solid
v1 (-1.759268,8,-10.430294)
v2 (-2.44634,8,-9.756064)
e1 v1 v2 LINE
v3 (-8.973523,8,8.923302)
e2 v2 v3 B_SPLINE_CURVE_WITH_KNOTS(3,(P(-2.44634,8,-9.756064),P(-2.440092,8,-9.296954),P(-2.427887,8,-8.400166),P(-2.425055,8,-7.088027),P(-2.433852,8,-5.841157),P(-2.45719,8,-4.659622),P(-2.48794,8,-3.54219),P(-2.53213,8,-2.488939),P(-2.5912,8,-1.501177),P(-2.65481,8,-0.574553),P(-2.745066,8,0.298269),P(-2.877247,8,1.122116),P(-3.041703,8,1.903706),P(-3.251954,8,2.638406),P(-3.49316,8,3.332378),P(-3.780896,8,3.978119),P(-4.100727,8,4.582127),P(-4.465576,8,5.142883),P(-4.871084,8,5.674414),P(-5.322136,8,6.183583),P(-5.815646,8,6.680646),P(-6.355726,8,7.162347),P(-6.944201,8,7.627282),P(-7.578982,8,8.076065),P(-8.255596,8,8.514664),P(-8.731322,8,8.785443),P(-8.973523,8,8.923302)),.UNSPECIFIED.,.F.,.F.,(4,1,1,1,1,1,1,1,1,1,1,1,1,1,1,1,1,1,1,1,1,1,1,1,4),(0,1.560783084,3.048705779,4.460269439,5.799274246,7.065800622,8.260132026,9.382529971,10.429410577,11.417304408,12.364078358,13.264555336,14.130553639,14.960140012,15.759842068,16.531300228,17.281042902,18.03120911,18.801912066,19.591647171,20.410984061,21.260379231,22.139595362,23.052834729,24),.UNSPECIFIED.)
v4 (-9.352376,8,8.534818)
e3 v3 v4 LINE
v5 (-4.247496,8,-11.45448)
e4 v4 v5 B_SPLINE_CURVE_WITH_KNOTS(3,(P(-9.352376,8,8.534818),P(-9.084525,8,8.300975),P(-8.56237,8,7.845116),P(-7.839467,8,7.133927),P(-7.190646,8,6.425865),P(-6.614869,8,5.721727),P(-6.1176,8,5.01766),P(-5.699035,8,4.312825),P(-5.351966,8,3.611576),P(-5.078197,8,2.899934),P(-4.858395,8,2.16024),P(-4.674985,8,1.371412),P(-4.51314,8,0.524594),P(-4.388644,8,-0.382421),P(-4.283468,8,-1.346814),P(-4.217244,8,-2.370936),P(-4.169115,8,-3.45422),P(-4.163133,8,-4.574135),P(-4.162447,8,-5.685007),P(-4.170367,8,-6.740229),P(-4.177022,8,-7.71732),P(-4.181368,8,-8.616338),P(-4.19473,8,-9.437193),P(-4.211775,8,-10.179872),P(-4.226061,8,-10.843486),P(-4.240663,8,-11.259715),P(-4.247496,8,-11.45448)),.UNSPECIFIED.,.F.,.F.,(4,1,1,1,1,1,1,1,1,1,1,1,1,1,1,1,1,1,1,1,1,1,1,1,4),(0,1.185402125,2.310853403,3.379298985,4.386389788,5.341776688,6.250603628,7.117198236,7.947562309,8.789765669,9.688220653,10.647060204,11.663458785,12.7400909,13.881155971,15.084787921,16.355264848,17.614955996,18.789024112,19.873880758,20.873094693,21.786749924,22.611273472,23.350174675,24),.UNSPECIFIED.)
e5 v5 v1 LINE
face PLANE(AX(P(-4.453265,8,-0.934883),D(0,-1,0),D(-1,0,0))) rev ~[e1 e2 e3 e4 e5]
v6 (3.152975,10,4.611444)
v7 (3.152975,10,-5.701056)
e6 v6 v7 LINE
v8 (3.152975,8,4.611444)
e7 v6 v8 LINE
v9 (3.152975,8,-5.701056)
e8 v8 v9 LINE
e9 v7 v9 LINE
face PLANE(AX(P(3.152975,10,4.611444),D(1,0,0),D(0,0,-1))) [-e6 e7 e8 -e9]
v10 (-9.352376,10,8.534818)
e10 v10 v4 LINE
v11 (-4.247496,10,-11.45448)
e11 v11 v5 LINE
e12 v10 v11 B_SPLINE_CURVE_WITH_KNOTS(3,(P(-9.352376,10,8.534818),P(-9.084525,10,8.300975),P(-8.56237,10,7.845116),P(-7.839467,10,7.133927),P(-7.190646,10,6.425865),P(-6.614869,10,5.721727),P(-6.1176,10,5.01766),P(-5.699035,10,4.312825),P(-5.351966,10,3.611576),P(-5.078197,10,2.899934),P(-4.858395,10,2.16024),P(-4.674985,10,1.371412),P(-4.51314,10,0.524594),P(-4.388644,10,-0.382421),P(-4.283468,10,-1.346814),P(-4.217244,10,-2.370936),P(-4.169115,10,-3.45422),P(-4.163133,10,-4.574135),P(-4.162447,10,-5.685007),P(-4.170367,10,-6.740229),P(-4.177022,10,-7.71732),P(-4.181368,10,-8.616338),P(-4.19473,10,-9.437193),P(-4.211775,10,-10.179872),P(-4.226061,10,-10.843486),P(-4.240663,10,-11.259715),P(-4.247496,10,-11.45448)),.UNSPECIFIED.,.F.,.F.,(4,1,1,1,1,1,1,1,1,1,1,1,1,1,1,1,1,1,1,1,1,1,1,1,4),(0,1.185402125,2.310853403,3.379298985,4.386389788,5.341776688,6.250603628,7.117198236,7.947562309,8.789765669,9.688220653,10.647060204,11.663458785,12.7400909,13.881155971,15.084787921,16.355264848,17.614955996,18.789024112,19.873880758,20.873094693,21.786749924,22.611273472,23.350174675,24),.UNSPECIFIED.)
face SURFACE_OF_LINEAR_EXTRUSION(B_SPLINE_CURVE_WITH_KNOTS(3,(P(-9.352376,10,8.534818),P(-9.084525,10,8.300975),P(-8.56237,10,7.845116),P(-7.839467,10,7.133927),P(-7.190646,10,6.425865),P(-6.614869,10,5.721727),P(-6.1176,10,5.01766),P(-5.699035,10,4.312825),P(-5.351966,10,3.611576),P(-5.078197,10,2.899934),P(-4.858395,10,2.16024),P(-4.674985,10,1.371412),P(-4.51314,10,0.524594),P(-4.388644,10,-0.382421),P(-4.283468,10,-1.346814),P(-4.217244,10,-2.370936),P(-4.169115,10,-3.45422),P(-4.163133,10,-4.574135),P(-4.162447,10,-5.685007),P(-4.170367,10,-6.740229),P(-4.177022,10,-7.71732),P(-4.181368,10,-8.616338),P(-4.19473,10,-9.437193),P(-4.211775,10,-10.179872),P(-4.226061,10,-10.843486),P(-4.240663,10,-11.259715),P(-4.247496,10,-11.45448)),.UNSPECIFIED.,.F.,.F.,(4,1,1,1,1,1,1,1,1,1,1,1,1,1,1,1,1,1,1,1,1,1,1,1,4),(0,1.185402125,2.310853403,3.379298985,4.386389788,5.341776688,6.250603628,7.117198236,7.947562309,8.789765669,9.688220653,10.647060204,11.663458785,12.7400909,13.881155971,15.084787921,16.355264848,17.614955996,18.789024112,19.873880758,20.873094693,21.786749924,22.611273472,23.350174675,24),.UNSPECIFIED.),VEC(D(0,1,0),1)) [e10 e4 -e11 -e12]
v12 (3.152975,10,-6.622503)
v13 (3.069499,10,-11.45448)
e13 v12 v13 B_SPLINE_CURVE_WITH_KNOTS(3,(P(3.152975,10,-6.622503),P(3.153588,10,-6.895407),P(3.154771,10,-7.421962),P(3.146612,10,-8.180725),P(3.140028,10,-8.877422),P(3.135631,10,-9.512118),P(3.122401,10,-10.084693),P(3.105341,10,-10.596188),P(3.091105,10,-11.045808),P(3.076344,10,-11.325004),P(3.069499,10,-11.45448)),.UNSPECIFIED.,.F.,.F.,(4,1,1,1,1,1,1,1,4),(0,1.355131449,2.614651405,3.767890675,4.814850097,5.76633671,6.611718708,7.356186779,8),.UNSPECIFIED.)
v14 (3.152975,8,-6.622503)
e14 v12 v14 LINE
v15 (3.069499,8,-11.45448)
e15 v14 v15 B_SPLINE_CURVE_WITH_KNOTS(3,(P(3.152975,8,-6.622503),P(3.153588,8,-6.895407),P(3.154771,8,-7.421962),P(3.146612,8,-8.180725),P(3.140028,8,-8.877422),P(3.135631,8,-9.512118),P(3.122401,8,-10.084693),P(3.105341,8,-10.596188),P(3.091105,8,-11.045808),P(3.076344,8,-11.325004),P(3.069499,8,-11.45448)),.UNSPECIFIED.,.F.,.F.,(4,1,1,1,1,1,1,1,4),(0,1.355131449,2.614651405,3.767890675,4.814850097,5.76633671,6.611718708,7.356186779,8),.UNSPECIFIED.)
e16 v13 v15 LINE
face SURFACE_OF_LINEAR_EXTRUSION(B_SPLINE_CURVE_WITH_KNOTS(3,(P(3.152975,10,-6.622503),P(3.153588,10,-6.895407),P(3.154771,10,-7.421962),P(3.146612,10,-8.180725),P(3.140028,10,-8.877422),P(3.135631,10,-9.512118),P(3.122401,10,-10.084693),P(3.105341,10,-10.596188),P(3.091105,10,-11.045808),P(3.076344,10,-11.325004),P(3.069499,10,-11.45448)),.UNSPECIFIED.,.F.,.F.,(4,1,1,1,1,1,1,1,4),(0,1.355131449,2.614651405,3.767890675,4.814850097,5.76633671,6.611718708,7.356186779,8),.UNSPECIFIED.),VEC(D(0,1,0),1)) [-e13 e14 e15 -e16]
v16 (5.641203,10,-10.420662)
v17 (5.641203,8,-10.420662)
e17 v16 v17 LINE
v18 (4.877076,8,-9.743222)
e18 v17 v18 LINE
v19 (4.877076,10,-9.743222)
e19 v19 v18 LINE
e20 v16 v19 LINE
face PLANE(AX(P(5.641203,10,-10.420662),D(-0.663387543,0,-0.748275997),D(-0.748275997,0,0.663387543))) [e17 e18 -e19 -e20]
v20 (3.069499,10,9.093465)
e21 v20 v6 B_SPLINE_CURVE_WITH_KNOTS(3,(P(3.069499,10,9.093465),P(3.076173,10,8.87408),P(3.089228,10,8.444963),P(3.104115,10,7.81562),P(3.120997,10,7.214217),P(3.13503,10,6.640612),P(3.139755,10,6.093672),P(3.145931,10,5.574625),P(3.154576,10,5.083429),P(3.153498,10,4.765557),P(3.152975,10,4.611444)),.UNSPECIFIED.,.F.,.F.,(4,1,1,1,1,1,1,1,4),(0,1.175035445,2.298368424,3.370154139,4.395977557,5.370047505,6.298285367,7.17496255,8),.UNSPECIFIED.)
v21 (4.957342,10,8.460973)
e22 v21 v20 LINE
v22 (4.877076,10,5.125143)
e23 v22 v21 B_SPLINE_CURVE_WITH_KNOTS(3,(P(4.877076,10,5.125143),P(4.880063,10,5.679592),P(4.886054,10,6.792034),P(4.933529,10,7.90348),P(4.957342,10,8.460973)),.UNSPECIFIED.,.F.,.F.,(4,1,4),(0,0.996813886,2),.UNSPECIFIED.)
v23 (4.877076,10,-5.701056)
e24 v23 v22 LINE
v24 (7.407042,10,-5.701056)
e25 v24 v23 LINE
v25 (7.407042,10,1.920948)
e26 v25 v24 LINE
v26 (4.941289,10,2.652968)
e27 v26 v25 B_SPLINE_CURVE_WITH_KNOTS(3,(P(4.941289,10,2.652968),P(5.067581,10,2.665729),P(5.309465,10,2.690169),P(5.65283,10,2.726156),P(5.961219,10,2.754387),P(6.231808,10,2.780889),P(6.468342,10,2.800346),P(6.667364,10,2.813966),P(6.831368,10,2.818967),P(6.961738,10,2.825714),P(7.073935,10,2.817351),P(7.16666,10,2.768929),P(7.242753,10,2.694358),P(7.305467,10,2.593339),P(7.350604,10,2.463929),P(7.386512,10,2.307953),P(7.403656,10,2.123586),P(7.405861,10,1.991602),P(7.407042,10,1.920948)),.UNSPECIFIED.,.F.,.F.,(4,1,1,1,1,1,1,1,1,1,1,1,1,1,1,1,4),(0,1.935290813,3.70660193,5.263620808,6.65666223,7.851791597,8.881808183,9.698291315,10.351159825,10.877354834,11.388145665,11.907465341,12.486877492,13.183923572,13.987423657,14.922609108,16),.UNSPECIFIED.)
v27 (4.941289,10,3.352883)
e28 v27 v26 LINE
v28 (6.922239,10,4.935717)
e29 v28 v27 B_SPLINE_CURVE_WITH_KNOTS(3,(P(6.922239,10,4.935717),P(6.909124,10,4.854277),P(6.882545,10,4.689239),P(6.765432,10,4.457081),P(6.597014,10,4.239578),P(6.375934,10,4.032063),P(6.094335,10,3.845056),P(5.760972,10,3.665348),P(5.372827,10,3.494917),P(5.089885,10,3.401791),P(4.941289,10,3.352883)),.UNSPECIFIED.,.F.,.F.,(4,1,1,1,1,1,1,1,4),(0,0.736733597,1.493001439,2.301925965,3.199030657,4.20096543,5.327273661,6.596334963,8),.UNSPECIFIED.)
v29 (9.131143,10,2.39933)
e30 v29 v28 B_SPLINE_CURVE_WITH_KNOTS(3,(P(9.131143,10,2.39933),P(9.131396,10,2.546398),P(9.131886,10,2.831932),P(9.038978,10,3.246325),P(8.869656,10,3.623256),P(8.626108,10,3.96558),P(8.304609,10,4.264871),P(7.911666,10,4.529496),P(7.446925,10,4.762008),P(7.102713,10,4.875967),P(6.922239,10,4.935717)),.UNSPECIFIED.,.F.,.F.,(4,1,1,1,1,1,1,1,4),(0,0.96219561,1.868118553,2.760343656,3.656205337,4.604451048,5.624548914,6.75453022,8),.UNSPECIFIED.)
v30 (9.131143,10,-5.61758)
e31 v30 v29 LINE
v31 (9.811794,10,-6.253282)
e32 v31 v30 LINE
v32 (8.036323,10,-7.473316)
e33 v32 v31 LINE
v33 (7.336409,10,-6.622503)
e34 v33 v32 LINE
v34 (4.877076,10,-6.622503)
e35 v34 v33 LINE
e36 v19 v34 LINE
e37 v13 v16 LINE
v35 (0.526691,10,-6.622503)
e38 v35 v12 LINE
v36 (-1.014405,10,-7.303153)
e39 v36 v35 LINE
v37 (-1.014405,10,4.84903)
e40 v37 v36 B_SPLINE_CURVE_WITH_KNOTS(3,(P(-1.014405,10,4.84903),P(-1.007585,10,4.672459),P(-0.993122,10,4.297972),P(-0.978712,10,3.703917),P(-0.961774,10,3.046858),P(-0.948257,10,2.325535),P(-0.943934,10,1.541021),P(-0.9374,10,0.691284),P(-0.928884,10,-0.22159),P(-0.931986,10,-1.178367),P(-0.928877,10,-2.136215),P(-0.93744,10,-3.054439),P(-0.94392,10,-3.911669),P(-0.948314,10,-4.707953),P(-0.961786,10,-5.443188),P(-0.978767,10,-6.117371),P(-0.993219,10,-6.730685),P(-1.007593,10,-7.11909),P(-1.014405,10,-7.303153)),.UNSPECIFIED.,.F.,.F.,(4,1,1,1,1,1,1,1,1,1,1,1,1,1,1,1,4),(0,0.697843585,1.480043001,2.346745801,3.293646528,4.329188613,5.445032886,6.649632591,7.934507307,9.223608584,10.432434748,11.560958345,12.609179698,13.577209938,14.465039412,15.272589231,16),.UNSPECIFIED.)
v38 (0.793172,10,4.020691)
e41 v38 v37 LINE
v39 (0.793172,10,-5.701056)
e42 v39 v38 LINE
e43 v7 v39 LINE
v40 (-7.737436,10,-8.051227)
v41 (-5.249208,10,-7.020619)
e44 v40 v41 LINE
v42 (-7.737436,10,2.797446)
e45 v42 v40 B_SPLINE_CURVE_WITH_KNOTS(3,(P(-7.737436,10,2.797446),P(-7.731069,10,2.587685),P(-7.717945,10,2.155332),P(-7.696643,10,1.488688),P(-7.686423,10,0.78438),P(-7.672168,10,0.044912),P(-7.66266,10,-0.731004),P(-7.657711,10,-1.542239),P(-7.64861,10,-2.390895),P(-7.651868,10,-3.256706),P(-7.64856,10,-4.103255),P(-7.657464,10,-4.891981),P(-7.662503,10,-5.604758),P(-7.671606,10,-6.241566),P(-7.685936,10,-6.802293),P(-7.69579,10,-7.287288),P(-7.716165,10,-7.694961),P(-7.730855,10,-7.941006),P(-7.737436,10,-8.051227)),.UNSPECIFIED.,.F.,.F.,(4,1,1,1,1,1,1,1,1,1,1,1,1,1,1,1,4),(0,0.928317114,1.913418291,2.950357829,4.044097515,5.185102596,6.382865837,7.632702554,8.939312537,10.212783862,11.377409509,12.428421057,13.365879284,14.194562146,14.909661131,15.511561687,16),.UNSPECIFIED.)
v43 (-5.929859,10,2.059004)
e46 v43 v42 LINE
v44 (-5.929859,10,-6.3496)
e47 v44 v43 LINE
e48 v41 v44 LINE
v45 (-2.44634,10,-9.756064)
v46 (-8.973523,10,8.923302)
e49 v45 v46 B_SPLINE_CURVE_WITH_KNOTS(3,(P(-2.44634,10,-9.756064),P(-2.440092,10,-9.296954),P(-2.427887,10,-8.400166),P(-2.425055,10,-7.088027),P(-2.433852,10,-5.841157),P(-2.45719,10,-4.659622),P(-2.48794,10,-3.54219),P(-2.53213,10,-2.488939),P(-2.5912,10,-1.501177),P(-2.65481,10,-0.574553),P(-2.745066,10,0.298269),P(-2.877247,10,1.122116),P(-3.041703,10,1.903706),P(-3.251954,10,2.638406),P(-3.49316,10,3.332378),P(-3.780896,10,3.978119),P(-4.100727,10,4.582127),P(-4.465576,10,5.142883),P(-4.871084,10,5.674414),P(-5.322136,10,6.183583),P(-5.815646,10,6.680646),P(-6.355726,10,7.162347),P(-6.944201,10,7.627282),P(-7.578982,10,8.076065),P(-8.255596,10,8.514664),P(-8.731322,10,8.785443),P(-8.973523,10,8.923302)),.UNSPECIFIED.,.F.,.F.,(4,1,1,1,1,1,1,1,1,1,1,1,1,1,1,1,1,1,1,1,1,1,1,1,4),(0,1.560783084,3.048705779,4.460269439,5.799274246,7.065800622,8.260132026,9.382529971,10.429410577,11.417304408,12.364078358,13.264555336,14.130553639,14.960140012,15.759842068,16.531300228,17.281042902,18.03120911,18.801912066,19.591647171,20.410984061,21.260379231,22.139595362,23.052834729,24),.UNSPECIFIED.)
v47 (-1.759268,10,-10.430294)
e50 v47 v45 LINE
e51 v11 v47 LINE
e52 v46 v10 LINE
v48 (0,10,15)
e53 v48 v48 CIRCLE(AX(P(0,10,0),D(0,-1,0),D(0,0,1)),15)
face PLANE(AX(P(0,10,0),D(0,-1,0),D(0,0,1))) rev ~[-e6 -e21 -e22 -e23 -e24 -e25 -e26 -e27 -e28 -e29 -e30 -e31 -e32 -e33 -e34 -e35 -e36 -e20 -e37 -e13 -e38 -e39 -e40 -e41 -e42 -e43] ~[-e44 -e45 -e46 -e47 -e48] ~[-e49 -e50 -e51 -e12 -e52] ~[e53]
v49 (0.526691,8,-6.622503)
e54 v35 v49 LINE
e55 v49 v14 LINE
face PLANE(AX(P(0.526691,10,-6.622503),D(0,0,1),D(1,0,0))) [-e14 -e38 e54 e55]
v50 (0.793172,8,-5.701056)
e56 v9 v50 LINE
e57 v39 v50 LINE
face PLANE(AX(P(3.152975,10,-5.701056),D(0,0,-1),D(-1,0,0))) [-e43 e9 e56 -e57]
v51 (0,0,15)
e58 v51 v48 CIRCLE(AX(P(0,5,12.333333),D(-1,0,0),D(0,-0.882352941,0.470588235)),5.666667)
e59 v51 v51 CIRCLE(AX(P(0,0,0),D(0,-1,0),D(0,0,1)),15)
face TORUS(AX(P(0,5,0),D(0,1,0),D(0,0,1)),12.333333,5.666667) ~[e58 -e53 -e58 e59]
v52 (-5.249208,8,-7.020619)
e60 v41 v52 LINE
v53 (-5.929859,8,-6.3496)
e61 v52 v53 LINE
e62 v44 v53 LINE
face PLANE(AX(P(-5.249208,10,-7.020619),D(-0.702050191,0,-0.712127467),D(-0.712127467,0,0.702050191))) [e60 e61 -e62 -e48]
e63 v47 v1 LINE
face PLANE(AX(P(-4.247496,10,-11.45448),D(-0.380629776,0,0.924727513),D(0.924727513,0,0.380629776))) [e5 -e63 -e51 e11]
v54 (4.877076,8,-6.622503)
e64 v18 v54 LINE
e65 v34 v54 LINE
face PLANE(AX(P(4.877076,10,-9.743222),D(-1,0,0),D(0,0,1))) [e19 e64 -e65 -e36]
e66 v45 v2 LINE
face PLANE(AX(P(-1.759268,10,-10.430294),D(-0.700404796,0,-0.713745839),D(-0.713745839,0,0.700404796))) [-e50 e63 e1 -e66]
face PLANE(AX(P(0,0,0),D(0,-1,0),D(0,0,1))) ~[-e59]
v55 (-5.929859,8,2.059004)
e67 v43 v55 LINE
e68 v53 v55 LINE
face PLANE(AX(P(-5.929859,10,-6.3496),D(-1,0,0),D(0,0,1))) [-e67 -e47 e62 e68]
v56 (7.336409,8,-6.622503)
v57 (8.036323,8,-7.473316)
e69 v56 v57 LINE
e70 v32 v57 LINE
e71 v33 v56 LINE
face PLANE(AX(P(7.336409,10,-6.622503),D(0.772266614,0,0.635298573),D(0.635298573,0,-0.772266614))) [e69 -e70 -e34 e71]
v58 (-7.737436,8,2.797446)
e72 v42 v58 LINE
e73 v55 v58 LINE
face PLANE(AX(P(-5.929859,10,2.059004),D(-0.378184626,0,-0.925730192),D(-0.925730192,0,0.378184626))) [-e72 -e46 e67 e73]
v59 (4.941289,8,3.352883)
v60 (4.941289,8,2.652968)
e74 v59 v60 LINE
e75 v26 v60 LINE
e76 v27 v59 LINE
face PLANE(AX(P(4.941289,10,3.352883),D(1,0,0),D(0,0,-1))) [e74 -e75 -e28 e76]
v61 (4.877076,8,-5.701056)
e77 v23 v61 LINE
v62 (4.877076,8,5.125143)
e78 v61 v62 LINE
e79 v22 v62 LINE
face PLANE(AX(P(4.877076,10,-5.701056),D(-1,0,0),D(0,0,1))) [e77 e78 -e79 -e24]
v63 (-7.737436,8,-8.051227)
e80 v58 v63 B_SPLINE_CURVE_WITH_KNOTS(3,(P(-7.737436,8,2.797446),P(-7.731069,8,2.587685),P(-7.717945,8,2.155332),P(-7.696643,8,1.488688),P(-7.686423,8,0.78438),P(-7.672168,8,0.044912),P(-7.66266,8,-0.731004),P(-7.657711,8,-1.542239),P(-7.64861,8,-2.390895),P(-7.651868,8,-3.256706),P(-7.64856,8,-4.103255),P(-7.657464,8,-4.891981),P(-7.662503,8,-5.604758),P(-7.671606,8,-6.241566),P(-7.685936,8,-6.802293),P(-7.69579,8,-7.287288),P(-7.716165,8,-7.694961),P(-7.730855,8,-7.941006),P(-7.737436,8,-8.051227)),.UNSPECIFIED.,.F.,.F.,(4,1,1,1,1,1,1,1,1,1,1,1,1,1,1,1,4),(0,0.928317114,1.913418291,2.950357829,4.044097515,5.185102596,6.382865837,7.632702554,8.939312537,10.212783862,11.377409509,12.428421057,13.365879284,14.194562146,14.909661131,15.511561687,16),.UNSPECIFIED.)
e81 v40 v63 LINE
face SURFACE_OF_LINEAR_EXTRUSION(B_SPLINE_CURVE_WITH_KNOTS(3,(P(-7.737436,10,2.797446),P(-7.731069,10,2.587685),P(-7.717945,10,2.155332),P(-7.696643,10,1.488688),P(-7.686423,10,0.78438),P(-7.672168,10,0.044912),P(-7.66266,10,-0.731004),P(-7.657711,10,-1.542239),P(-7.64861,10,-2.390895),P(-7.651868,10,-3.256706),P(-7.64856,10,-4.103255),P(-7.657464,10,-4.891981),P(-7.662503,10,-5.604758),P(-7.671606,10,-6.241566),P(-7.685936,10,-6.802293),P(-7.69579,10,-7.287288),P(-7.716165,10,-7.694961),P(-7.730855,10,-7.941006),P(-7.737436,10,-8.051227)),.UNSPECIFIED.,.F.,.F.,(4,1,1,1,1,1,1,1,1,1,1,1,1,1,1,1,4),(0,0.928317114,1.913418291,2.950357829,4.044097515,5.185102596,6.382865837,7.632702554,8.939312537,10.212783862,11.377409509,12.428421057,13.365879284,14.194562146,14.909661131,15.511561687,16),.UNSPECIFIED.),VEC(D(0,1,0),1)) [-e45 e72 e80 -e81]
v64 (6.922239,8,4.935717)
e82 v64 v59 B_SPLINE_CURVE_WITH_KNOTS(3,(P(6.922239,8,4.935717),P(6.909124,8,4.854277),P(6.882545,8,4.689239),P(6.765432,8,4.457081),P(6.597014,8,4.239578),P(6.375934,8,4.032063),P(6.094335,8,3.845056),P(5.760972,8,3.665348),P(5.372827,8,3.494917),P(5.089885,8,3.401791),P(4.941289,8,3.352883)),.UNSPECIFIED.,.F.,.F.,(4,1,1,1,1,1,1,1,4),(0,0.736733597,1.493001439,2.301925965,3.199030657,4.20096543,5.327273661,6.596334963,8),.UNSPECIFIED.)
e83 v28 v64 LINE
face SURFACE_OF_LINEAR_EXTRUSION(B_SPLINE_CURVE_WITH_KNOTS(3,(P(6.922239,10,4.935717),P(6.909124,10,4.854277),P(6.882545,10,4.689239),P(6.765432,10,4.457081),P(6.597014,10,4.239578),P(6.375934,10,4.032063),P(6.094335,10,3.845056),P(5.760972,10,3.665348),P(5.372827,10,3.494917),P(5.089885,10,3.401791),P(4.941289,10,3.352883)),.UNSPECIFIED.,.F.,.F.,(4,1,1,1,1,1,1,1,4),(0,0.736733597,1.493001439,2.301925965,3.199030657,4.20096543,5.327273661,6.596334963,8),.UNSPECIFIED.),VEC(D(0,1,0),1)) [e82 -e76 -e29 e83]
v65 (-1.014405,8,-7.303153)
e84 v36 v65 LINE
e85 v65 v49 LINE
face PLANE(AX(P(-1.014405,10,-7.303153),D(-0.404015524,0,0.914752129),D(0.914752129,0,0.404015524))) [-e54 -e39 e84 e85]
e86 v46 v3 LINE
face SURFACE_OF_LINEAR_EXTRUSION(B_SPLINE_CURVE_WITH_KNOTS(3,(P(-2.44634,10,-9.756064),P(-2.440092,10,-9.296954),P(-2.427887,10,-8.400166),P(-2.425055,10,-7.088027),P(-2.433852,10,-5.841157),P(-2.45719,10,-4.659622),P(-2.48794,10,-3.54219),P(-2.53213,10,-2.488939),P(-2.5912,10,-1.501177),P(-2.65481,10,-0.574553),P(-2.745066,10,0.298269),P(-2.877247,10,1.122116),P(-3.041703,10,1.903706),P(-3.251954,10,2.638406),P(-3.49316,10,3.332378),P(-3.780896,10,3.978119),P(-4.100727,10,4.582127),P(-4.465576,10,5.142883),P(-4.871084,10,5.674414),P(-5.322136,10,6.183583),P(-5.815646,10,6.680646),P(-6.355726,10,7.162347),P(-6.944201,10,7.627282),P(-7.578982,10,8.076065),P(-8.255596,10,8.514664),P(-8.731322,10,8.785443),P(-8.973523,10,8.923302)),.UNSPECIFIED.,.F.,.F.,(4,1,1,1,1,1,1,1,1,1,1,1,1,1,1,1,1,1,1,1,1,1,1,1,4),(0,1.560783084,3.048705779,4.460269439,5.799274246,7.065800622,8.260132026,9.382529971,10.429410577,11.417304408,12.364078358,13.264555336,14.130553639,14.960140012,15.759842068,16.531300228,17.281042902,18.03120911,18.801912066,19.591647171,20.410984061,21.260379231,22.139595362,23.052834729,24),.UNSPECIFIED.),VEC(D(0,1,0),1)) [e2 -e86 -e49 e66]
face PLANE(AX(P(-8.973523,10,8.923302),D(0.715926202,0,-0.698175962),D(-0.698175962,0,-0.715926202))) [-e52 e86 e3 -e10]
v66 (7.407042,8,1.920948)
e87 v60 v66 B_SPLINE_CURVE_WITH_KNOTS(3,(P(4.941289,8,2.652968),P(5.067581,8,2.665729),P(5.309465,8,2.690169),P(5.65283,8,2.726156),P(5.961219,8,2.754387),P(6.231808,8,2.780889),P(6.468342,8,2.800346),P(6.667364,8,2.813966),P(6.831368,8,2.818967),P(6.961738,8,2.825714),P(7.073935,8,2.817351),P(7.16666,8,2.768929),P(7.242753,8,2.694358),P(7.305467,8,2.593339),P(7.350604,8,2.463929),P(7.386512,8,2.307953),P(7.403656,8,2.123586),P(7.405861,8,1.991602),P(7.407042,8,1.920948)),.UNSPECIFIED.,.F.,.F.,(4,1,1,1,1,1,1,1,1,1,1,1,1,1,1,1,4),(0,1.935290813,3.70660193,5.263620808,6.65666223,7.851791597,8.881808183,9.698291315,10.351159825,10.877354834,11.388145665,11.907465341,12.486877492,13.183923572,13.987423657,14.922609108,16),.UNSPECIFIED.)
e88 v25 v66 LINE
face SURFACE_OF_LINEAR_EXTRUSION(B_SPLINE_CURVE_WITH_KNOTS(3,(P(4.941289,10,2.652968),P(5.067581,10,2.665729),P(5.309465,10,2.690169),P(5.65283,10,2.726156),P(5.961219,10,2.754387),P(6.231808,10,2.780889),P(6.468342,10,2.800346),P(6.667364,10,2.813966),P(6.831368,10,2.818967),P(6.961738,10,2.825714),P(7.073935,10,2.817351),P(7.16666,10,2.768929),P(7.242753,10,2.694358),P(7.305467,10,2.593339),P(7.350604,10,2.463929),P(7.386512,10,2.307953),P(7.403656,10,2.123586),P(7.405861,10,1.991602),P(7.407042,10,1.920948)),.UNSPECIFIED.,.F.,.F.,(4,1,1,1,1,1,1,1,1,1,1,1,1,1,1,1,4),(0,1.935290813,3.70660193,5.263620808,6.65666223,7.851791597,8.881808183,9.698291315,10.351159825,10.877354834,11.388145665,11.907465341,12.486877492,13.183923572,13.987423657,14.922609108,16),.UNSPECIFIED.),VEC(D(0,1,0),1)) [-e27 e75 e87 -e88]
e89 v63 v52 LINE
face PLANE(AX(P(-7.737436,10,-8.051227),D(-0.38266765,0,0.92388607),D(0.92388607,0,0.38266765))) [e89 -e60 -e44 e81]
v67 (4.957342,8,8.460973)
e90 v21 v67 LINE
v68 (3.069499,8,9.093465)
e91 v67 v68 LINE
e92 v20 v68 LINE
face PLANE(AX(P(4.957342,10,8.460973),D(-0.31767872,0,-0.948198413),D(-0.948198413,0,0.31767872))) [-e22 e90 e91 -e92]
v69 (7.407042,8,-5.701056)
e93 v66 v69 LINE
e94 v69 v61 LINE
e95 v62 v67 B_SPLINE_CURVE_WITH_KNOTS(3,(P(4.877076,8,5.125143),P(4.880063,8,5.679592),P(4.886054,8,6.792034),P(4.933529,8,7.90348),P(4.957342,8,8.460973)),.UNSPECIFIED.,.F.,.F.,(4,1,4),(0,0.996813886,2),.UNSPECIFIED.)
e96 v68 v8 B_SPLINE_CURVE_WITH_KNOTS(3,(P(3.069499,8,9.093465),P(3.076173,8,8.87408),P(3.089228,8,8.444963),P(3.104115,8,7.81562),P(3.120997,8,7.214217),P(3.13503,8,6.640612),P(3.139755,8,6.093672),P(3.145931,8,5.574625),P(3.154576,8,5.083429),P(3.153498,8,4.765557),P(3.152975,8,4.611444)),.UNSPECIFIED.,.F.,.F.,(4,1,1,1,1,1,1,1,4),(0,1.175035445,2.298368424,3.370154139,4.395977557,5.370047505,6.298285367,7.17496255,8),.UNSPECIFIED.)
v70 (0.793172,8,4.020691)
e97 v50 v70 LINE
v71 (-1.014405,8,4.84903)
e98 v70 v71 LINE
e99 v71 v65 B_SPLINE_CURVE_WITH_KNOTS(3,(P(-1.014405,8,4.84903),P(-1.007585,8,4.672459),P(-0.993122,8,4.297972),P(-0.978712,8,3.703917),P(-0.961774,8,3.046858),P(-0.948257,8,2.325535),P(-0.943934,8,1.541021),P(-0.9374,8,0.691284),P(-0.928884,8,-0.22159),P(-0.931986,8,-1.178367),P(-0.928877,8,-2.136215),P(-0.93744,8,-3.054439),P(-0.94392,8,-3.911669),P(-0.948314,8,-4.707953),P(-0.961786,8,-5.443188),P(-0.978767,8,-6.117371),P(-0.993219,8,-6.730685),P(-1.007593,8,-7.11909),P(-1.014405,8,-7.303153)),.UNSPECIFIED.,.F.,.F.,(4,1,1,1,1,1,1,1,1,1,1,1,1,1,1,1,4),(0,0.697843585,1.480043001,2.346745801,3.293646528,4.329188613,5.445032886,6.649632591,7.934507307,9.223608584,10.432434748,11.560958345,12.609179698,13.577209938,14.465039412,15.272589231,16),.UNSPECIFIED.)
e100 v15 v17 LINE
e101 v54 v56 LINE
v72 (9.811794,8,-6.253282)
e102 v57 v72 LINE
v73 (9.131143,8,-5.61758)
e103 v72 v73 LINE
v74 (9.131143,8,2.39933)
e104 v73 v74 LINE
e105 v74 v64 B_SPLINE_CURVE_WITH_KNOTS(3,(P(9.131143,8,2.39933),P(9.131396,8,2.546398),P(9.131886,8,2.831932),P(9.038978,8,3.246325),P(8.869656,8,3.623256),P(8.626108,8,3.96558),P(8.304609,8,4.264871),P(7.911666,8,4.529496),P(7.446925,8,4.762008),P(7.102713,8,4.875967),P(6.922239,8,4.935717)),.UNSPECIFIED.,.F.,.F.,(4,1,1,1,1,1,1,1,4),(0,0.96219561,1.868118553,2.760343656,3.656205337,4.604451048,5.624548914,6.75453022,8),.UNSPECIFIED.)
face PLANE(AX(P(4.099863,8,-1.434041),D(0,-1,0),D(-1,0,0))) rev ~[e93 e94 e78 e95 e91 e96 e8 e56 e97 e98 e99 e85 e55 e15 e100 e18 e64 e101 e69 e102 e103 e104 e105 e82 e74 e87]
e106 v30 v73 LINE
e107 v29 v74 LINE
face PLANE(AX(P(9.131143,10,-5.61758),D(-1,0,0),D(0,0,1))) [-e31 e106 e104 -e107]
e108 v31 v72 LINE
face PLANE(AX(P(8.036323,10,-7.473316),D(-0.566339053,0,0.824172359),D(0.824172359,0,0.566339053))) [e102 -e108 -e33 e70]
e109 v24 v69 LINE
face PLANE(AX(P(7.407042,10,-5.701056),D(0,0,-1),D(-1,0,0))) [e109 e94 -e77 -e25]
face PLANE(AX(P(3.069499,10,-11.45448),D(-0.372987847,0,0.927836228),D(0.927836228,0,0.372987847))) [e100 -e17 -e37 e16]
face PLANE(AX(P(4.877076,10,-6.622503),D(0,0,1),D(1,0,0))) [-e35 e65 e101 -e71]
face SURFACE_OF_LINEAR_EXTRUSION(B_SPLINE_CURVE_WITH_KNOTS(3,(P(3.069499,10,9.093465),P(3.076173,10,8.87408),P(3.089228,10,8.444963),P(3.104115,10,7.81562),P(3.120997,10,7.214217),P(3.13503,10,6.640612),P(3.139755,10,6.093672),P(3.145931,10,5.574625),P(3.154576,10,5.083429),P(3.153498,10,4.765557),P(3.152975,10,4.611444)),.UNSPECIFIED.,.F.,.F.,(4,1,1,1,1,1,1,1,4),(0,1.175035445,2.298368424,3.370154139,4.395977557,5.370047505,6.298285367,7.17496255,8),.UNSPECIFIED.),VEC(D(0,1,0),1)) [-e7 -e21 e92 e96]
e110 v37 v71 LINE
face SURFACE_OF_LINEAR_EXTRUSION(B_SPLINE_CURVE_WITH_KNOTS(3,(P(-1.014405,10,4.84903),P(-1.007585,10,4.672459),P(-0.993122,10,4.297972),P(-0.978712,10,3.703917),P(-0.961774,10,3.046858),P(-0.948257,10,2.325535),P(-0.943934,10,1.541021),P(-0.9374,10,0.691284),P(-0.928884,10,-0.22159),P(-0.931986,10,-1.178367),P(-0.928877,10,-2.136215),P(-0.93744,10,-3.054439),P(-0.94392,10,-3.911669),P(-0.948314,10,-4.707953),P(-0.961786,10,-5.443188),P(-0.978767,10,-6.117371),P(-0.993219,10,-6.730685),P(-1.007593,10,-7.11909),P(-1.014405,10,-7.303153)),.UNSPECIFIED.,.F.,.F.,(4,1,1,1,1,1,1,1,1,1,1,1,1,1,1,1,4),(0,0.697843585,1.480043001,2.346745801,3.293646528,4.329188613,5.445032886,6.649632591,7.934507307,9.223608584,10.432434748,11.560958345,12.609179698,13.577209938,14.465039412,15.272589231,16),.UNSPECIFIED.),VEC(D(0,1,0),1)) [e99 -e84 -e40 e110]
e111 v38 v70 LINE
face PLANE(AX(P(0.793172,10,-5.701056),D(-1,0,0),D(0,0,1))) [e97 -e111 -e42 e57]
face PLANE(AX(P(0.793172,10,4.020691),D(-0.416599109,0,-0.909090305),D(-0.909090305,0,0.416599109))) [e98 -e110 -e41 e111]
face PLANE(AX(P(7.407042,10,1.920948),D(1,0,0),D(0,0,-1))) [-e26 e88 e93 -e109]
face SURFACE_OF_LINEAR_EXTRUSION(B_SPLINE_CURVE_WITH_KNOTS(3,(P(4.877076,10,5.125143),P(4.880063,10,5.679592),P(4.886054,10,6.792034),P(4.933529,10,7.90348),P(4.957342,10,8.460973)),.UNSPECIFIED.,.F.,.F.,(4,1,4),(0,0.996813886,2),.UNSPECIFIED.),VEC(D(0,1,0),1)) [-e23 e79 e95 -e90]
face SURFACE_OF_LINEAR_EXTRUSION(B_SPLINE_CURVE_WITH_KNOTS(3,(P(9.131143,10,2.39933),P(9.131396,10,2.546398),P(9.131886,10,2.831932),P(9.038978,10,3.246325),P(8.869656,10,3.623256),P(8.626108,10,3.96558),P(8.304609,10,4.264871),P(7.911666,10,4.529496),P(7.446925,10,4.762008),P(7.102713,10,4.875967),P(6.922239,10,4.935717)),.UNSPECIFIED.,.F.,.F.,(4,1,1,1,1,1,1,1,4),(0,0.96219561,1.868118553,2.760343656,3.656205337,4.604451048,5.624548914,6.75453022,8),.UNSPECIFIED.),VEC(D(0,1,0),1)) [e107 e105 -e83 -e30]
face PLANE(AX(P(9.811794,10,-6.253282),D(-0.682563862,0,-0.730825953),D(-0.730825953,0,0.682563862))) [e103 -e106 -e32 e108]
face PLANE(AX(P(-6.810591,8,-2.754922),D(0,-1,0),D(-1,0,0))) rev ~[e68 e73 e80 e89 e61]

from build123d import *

# Parameters (mm, degrees)
CUT_EXTRUDE_1_DEPTH = 2


with BuildPart() as part:
    # 草图1 → 旋转1 (revolve)
    with BuildSketch(Plane.XY, mode=Mode.PRIVATE) as revolve_1_sk:
        with BuildLine():
            Line((0, 0), (15, 0))
            ThreePointArc((15, 0), (18, 5), (15, 10))
            Line((15, 10), (0, 10))
            Line((0, 10), (0, 0))
        make_face()
    revolve(revolve_1_sk.sketch.rotate(Axis((0, 13.411477292, 0), (0, -1, 0)), 90), axis=Axis((0, 13.411477292, 0), (0, -1, 0)))

    # 草图3 → 切除-拉伸1 (cut)
    with BuildSketch(Plane(origin=(0, 10, 0), x_dir=(1, 0, 0), z_dir=(0, 1, 0))):
        with BuildLine():
            add(Edge.make_bspline(
                [(-7.737435646, -2.797446042), (-7.731068719, -2.587685086), (-7.717945409, -2.155332343), (-7.696642932, -1.488687912), (-7.686423073, -0.784380082), (-7.672167654, -0.044911976), (-7.662660109, 0.731003875), (-7.657710892, 1.542239007), (-7.648610401, 2.390894981), (-7.65186825, 3.256706013), (-7.648559979, 4.1032554), (-7.65746445, 4.891980565), (-7.662502543, 5.604758223), (-7.671605944, 6.241565546), (-7.685936074, 6.8022931), (-7.695789632, 7.287287836), (-7.716164539, 7.694960994), (-7.730854842, 7.941006207), (-7.737435646, 8.051226903)],
                knots=[0, 0, 0, 0, 0.928317114, 1.913418291, 2.950357829, 4.044097515, 5.185102596, 6.382865837, 7.632702554, 8.939312537, 10.212783862, 11.377409509, 12.428421057, 13.365879284, 14.194562146, 14.909661131, 15.511561687, 16, 16, 16, 16], degree=3))
            Line((-7.737435646, 8.051226903), (-5.249207906, 7.020619026))
            Line((-5.249207906, 7.020619026), (-5.929858591, 6.349600191))
            Line((-5.929858591, 6.349600191), (-5.929858591, -2.059004261))
            Line((-5.929858591, -2.059004261), (-7.737435646, -2.797446042))
        make_face()
        with BuildLine():
            add(Edge.make_bspline(
                [(-9.352375714, -8.534817617), (-9.084525015, -8.300974918), (-8.562369969, -7.845115942), (-7.839466918, -7.133926567), (-7.190646214, -6.425865151), (-6.614868907, -5.721727451), (-6.117599742, -5.01766043), (-5.699034732, -4.312825243), (-5.35196567, -3.611575818), (-5.078196611, -2.899933759), (-4.858394528, -2.160239778), (-4.674985415, -1.371412367), (-4.513140358, -0.524594418), (-4.388643582, 0.382421036), (-4.283467988, 1.346814475), (-4.217243739, 2.370936396), (-4.169114628, 3.45422046), (-4.163132935, 4.574135062), (-4.162447067, 5.68500678), (-4.170367209, 6.74022891), (-4.177021693, 7.717319618), (-4.181368154, 8.616338485), (-4.194730299, 9.437192973), (-4.211775037, 10.179872076), (-4.226060685, 10.843485892), (-4.240662817, 11.259714785), (-4.247495577, 11.454480328)],
                knots=[0, 0, 0, 0, 1.185402125, 2.310853403, 3.379298985, 4.386389788, 5.341776688, 6.250603628, 7.117198236, 7.947562309, 8.789765669, 9.688220653, 10.647060204, 11.663458785, 12.7400909, 13.881155971, 15.084787921, 16.355264848, 17.614955996, 18.789024112, 19.873880758, 20.873094693, 21.786749924, 22.611273472, 23.350174675, 24, 24, 24, 24], degree=3))
            Line((-4.247495577, 11.454480328), (-1.759267838, 10.430293684))
            Line((-1.759267838, 10.430293684), (-2.446339755, 9.756064232))
            add(Edge.make_bspline(
                [(-2.446339755, 9.756064232), (-2.440091603, 9.296954134), (-2.427886973, 8.400166089), (-2.425054866, 7.088026543), (-2.433852361, 5.841156766), (-2.457190325, 4.659621552), (-2.487940385, 3.542189591), (-2.532130363, 2.488939398), (-2.591199959, 1.501176574), (-2.654809669, 0.574553083), (-2.745066202, -0.298269112), (-2.877247045, -1.122116359), (-3.041703355, -1.903705624), (-3.251953741, -2.638406345), (-3.493159764, -3.332378276), (-3.78089571, -3.978119394), (-4.100727381, -4.582126813), (-4.465575897, -5.142882654), (-4.871083747, -5.674414465), (-5.322135975, -6.183582916), (-5.815645595, -6.680645685), (-6.355725979, -7.162346781), (-6.944200864, -7.627281526), (-7.57898216, -8.076065119), (-8.255596092, -8.514663533), (-8.73132227, -8.785443356), (-8.973522975, -8.923302207)],
                knots=[0, 0, 0, 0, 1.560783084, 3.048705779, 4.460269439, 5.799274246, 7.065800622, 8.260132026, 9.382529971, 10.429410577, 11.417304408, 12.364078358, 13.264555336, 14.130553639, 14.960140012, 15.759842068, 16.531300228, 17.281042902, 18.03120911, 18.801912066, 19.591647171, 20.410984061, 21.260379231, 22.139595362, 23.052834729, 24, 24, 24, 24], degree=3))
            Line((-8.973522975, -8.923302207), (-9.352375714, -8.534817617))
        make_face()
        with BuildLine():
            add(Edge.make_bspline(
                [(3.152975313, 6.622502588), (3.153588126, 6.89540738), (3.154770514, 7.421962128), (3.146611659, 8.180724822), (3.140028092, 8.877422102), (3.135631354, 9.512118402), (3.122401095, 10.084693336), (3.105340851, 10.596188458), (3.091104619, 11.045807919), (3.076344341, 11.325003722), (3.069499286, 11.454480328)],
                knots=[0, 0, 0, 0, 1.355131449, 2.614651405, 3.767890675, 4.814850097, 5.76633671, 6.611718708, 7.356186779, 8, 8, 8, 8], degree=3))
            Line((3.069499286, 11.454480328), (5.641203053, 10.420661835))
            Line((5.641203053, 10.420661835), (4.87707634, 9.743221766))
            Line((4.87707634, 9.743221766), (4.87707634, 6.622502588))
            Line((4.87707634, 6.622502588), (7.336408532, 6.622502588))
            Line((7.336408532, 6.622502588), (8.036322916, 7.473315944))
            Line((8.036322916, 7.473315944), (9.811793806, 6.253281698))
            Line((9.811793806, 6.253281698), (9.131143121, 5.617579643))
            Line((9.131143121, 5.617579643), (9.131143121, -2.399329604))
            add(Edge.make_bspline(
                [(9.131143121, -2.399329604), (9.131395669, -2.546397527), (9.131885996, -2.831932311), (9.038977853, -3.246324843), (8.869656202, -3.623256102), (8.626107599, -3.965580357), (8.304608549, -4.264870746), (7.911665558, -4.529495739), (7.446925145, -4.762008048), (7.102712639, -4.875966944), (6.922239012, -4.93571659)],
                knots=[0, 0, 0, 0, 0.96219561, 1.868118553, 2.760343656, 3.656205337, 4.604451048, 5.624548914, 6.75453022, 8, 8, 8, 8], degree=3))
            add(Edge.make_bspline(
                [(6.922239012, -4.93571659), (6.909123756, -4.854277288), (6.882545497, -4.689239347), (6.76543208, -4.457080757), (6.597014494, -4.239577573), (6.375934205, -4.032062925), (6.094335298, -3.845055724), (5.760972018, -3.665348344), (5.3728269, -3.494916639), (5.089884589, -3.401790672), (4.941288669, -3.352882686)],
                knots=[0, 0, 0, 0, 0.736733597, 1.493001439, 2.301925965, 3.199030657, 4.20096543, 5.327273661, 6.596334963, 8, 8, 8, 8], degree=3))
            Line((4.941288669, -3.352882686), (4.941288669, -2.652968302))
            add(Edge.make_bspline(
                [(4.941288669, -2.652968302), (5.067580967, -2.665728809), (5.309464653, -2.690168608), (5.652829722, -2.726155562), (5.961218582, -2.754387456), (6.23180788, -2.780889296), (6.468341952, -2.800346265), (6.66736422, -2.813966281), (6.831367995, -2.818966606), (6.961738085, -2.825714194), (7.073934615, -2.817350678), (7.1666596, -2.768928995), (7.242752738, -2.694357526), (7.305466829, -2.593339306), (7.350603643, -2.463928678), (7.386512175, -2.307952974), (7.403655814, -2.123586173), (7.405861386, -1.99160248), (7.407042094, -1.920947754)],
                knots=[0, 0, 0, 0, 1.935290813, 3.70660193, 5.263620808, 6.65666223, 7.851791597, 8.881808183, 9.698291315, 10.351159825, 10.877354834, 11.388145665, 11.907465341, 12.486877492, 13.183923572, 13.987423657, 14.922609108, 16, 16, 16, 16], degree=3))
            Line((7.407042094, -1.920947754), (7.407042094, 5.70105567))
            Line((7.407042094, 5.70105567), (4.87707634, 5.70105567))
            Line((4.87707634, 5.70105567), (4.87707634, -5.12514296))
            add(Edge.make_bspline(
                [(4.87707634, -5.12514296), (4.880062675, -5.679591911), (4.886054434, -6.792034181), (4.933528892, -7.903479956), (4.957341751, -8.460973439)],
                knots=[0, 0, 0, 0, 0.996813886, 2, 2, 2, 2], degree=3))
            Line((4.957341751, -8.460973439), (3.069499286, -9.093464878))
            add(Edge.make_bspline(
                [(3.069499286, -9.093464878), (3.076173355, -8.874079729), (3.089227829, -8.444962546), (3.104114646, -7.815620094), (3.12099665, -7.214217278), (3.135029943, -6.640611688), (3.139755388, -6.093672162), (3.145931121, -5.574624741), (3.154576391, -5.083429325), (3.153498098, -4.765557311), (3.152975313, -4.61144433)],
                knots=[0, 0, 0, 0, 1.175035445, 2.298368424, 3.370154139, 4.395977557, 5.370047505, 6.298285367, 7.17496255, 8, 8, 8, 8], degree=3))
            Line((3.152975313, -4.61144433), (3.152975313, 5.70105567))
            Line((3.152975313, 5.70105567), (0.793172231, 5.70105567))
            Line((0.793172231, 5.70105567), (0.793172231, -4.020690905))
            Line((0.793172231, -4.020690905), (-1.014404824, -4.849029946))
            add(Edge.make_bspline(
                [(-1.014404824, -4.849029946), (-1.00758523, -4.672458776), (-0.993121685, -4.297972388), (-0.978711974, -3.703916925), (-0.961773948, -3.046857597), (-0.948257418, -2.325535215), (-0.943934204, -1.541021297), (-0.937399912, -0.69128389), (-0.928883861, 0.221590297), (-0.931985888, 1.178367317), (-0.928877241, 2.136214544), (-0.93744001, 3.054439424), (-0.943919928, 3.911668811), (-0.948313778, 4.707953238), (-0.961785981, 5.443188246), (-0.978767285, 6.117371114), (-0.993218695, 6.730684991), (-1.007592937, 7.119089948), (-1.014404824, 7.303153273)],
                knots=[0, 0, 0, 0, 0.697843585, 1.480043001, 2.346745801, 3.293646528, 4.329188613, 5.445032886, 6.649632591, 7.934507307, 9.223608584, 10.432434748, 11.560958345, 12.609179698, 13.577209938, 14.465039412, 15.272589231, 16, 16, 16, 16], degree=3))
            Line((-1.014404824, 7.303153273), (0.526691066, 6.622502588))
            Line((0.526691066, 6.622502588), (3.152975313, 6.622502588))
        make_face()
    extrude(amount=-CUT_EXTRUDE_1_DEPTH, mode=Mode.SUBTRACT)


solid = part.part
